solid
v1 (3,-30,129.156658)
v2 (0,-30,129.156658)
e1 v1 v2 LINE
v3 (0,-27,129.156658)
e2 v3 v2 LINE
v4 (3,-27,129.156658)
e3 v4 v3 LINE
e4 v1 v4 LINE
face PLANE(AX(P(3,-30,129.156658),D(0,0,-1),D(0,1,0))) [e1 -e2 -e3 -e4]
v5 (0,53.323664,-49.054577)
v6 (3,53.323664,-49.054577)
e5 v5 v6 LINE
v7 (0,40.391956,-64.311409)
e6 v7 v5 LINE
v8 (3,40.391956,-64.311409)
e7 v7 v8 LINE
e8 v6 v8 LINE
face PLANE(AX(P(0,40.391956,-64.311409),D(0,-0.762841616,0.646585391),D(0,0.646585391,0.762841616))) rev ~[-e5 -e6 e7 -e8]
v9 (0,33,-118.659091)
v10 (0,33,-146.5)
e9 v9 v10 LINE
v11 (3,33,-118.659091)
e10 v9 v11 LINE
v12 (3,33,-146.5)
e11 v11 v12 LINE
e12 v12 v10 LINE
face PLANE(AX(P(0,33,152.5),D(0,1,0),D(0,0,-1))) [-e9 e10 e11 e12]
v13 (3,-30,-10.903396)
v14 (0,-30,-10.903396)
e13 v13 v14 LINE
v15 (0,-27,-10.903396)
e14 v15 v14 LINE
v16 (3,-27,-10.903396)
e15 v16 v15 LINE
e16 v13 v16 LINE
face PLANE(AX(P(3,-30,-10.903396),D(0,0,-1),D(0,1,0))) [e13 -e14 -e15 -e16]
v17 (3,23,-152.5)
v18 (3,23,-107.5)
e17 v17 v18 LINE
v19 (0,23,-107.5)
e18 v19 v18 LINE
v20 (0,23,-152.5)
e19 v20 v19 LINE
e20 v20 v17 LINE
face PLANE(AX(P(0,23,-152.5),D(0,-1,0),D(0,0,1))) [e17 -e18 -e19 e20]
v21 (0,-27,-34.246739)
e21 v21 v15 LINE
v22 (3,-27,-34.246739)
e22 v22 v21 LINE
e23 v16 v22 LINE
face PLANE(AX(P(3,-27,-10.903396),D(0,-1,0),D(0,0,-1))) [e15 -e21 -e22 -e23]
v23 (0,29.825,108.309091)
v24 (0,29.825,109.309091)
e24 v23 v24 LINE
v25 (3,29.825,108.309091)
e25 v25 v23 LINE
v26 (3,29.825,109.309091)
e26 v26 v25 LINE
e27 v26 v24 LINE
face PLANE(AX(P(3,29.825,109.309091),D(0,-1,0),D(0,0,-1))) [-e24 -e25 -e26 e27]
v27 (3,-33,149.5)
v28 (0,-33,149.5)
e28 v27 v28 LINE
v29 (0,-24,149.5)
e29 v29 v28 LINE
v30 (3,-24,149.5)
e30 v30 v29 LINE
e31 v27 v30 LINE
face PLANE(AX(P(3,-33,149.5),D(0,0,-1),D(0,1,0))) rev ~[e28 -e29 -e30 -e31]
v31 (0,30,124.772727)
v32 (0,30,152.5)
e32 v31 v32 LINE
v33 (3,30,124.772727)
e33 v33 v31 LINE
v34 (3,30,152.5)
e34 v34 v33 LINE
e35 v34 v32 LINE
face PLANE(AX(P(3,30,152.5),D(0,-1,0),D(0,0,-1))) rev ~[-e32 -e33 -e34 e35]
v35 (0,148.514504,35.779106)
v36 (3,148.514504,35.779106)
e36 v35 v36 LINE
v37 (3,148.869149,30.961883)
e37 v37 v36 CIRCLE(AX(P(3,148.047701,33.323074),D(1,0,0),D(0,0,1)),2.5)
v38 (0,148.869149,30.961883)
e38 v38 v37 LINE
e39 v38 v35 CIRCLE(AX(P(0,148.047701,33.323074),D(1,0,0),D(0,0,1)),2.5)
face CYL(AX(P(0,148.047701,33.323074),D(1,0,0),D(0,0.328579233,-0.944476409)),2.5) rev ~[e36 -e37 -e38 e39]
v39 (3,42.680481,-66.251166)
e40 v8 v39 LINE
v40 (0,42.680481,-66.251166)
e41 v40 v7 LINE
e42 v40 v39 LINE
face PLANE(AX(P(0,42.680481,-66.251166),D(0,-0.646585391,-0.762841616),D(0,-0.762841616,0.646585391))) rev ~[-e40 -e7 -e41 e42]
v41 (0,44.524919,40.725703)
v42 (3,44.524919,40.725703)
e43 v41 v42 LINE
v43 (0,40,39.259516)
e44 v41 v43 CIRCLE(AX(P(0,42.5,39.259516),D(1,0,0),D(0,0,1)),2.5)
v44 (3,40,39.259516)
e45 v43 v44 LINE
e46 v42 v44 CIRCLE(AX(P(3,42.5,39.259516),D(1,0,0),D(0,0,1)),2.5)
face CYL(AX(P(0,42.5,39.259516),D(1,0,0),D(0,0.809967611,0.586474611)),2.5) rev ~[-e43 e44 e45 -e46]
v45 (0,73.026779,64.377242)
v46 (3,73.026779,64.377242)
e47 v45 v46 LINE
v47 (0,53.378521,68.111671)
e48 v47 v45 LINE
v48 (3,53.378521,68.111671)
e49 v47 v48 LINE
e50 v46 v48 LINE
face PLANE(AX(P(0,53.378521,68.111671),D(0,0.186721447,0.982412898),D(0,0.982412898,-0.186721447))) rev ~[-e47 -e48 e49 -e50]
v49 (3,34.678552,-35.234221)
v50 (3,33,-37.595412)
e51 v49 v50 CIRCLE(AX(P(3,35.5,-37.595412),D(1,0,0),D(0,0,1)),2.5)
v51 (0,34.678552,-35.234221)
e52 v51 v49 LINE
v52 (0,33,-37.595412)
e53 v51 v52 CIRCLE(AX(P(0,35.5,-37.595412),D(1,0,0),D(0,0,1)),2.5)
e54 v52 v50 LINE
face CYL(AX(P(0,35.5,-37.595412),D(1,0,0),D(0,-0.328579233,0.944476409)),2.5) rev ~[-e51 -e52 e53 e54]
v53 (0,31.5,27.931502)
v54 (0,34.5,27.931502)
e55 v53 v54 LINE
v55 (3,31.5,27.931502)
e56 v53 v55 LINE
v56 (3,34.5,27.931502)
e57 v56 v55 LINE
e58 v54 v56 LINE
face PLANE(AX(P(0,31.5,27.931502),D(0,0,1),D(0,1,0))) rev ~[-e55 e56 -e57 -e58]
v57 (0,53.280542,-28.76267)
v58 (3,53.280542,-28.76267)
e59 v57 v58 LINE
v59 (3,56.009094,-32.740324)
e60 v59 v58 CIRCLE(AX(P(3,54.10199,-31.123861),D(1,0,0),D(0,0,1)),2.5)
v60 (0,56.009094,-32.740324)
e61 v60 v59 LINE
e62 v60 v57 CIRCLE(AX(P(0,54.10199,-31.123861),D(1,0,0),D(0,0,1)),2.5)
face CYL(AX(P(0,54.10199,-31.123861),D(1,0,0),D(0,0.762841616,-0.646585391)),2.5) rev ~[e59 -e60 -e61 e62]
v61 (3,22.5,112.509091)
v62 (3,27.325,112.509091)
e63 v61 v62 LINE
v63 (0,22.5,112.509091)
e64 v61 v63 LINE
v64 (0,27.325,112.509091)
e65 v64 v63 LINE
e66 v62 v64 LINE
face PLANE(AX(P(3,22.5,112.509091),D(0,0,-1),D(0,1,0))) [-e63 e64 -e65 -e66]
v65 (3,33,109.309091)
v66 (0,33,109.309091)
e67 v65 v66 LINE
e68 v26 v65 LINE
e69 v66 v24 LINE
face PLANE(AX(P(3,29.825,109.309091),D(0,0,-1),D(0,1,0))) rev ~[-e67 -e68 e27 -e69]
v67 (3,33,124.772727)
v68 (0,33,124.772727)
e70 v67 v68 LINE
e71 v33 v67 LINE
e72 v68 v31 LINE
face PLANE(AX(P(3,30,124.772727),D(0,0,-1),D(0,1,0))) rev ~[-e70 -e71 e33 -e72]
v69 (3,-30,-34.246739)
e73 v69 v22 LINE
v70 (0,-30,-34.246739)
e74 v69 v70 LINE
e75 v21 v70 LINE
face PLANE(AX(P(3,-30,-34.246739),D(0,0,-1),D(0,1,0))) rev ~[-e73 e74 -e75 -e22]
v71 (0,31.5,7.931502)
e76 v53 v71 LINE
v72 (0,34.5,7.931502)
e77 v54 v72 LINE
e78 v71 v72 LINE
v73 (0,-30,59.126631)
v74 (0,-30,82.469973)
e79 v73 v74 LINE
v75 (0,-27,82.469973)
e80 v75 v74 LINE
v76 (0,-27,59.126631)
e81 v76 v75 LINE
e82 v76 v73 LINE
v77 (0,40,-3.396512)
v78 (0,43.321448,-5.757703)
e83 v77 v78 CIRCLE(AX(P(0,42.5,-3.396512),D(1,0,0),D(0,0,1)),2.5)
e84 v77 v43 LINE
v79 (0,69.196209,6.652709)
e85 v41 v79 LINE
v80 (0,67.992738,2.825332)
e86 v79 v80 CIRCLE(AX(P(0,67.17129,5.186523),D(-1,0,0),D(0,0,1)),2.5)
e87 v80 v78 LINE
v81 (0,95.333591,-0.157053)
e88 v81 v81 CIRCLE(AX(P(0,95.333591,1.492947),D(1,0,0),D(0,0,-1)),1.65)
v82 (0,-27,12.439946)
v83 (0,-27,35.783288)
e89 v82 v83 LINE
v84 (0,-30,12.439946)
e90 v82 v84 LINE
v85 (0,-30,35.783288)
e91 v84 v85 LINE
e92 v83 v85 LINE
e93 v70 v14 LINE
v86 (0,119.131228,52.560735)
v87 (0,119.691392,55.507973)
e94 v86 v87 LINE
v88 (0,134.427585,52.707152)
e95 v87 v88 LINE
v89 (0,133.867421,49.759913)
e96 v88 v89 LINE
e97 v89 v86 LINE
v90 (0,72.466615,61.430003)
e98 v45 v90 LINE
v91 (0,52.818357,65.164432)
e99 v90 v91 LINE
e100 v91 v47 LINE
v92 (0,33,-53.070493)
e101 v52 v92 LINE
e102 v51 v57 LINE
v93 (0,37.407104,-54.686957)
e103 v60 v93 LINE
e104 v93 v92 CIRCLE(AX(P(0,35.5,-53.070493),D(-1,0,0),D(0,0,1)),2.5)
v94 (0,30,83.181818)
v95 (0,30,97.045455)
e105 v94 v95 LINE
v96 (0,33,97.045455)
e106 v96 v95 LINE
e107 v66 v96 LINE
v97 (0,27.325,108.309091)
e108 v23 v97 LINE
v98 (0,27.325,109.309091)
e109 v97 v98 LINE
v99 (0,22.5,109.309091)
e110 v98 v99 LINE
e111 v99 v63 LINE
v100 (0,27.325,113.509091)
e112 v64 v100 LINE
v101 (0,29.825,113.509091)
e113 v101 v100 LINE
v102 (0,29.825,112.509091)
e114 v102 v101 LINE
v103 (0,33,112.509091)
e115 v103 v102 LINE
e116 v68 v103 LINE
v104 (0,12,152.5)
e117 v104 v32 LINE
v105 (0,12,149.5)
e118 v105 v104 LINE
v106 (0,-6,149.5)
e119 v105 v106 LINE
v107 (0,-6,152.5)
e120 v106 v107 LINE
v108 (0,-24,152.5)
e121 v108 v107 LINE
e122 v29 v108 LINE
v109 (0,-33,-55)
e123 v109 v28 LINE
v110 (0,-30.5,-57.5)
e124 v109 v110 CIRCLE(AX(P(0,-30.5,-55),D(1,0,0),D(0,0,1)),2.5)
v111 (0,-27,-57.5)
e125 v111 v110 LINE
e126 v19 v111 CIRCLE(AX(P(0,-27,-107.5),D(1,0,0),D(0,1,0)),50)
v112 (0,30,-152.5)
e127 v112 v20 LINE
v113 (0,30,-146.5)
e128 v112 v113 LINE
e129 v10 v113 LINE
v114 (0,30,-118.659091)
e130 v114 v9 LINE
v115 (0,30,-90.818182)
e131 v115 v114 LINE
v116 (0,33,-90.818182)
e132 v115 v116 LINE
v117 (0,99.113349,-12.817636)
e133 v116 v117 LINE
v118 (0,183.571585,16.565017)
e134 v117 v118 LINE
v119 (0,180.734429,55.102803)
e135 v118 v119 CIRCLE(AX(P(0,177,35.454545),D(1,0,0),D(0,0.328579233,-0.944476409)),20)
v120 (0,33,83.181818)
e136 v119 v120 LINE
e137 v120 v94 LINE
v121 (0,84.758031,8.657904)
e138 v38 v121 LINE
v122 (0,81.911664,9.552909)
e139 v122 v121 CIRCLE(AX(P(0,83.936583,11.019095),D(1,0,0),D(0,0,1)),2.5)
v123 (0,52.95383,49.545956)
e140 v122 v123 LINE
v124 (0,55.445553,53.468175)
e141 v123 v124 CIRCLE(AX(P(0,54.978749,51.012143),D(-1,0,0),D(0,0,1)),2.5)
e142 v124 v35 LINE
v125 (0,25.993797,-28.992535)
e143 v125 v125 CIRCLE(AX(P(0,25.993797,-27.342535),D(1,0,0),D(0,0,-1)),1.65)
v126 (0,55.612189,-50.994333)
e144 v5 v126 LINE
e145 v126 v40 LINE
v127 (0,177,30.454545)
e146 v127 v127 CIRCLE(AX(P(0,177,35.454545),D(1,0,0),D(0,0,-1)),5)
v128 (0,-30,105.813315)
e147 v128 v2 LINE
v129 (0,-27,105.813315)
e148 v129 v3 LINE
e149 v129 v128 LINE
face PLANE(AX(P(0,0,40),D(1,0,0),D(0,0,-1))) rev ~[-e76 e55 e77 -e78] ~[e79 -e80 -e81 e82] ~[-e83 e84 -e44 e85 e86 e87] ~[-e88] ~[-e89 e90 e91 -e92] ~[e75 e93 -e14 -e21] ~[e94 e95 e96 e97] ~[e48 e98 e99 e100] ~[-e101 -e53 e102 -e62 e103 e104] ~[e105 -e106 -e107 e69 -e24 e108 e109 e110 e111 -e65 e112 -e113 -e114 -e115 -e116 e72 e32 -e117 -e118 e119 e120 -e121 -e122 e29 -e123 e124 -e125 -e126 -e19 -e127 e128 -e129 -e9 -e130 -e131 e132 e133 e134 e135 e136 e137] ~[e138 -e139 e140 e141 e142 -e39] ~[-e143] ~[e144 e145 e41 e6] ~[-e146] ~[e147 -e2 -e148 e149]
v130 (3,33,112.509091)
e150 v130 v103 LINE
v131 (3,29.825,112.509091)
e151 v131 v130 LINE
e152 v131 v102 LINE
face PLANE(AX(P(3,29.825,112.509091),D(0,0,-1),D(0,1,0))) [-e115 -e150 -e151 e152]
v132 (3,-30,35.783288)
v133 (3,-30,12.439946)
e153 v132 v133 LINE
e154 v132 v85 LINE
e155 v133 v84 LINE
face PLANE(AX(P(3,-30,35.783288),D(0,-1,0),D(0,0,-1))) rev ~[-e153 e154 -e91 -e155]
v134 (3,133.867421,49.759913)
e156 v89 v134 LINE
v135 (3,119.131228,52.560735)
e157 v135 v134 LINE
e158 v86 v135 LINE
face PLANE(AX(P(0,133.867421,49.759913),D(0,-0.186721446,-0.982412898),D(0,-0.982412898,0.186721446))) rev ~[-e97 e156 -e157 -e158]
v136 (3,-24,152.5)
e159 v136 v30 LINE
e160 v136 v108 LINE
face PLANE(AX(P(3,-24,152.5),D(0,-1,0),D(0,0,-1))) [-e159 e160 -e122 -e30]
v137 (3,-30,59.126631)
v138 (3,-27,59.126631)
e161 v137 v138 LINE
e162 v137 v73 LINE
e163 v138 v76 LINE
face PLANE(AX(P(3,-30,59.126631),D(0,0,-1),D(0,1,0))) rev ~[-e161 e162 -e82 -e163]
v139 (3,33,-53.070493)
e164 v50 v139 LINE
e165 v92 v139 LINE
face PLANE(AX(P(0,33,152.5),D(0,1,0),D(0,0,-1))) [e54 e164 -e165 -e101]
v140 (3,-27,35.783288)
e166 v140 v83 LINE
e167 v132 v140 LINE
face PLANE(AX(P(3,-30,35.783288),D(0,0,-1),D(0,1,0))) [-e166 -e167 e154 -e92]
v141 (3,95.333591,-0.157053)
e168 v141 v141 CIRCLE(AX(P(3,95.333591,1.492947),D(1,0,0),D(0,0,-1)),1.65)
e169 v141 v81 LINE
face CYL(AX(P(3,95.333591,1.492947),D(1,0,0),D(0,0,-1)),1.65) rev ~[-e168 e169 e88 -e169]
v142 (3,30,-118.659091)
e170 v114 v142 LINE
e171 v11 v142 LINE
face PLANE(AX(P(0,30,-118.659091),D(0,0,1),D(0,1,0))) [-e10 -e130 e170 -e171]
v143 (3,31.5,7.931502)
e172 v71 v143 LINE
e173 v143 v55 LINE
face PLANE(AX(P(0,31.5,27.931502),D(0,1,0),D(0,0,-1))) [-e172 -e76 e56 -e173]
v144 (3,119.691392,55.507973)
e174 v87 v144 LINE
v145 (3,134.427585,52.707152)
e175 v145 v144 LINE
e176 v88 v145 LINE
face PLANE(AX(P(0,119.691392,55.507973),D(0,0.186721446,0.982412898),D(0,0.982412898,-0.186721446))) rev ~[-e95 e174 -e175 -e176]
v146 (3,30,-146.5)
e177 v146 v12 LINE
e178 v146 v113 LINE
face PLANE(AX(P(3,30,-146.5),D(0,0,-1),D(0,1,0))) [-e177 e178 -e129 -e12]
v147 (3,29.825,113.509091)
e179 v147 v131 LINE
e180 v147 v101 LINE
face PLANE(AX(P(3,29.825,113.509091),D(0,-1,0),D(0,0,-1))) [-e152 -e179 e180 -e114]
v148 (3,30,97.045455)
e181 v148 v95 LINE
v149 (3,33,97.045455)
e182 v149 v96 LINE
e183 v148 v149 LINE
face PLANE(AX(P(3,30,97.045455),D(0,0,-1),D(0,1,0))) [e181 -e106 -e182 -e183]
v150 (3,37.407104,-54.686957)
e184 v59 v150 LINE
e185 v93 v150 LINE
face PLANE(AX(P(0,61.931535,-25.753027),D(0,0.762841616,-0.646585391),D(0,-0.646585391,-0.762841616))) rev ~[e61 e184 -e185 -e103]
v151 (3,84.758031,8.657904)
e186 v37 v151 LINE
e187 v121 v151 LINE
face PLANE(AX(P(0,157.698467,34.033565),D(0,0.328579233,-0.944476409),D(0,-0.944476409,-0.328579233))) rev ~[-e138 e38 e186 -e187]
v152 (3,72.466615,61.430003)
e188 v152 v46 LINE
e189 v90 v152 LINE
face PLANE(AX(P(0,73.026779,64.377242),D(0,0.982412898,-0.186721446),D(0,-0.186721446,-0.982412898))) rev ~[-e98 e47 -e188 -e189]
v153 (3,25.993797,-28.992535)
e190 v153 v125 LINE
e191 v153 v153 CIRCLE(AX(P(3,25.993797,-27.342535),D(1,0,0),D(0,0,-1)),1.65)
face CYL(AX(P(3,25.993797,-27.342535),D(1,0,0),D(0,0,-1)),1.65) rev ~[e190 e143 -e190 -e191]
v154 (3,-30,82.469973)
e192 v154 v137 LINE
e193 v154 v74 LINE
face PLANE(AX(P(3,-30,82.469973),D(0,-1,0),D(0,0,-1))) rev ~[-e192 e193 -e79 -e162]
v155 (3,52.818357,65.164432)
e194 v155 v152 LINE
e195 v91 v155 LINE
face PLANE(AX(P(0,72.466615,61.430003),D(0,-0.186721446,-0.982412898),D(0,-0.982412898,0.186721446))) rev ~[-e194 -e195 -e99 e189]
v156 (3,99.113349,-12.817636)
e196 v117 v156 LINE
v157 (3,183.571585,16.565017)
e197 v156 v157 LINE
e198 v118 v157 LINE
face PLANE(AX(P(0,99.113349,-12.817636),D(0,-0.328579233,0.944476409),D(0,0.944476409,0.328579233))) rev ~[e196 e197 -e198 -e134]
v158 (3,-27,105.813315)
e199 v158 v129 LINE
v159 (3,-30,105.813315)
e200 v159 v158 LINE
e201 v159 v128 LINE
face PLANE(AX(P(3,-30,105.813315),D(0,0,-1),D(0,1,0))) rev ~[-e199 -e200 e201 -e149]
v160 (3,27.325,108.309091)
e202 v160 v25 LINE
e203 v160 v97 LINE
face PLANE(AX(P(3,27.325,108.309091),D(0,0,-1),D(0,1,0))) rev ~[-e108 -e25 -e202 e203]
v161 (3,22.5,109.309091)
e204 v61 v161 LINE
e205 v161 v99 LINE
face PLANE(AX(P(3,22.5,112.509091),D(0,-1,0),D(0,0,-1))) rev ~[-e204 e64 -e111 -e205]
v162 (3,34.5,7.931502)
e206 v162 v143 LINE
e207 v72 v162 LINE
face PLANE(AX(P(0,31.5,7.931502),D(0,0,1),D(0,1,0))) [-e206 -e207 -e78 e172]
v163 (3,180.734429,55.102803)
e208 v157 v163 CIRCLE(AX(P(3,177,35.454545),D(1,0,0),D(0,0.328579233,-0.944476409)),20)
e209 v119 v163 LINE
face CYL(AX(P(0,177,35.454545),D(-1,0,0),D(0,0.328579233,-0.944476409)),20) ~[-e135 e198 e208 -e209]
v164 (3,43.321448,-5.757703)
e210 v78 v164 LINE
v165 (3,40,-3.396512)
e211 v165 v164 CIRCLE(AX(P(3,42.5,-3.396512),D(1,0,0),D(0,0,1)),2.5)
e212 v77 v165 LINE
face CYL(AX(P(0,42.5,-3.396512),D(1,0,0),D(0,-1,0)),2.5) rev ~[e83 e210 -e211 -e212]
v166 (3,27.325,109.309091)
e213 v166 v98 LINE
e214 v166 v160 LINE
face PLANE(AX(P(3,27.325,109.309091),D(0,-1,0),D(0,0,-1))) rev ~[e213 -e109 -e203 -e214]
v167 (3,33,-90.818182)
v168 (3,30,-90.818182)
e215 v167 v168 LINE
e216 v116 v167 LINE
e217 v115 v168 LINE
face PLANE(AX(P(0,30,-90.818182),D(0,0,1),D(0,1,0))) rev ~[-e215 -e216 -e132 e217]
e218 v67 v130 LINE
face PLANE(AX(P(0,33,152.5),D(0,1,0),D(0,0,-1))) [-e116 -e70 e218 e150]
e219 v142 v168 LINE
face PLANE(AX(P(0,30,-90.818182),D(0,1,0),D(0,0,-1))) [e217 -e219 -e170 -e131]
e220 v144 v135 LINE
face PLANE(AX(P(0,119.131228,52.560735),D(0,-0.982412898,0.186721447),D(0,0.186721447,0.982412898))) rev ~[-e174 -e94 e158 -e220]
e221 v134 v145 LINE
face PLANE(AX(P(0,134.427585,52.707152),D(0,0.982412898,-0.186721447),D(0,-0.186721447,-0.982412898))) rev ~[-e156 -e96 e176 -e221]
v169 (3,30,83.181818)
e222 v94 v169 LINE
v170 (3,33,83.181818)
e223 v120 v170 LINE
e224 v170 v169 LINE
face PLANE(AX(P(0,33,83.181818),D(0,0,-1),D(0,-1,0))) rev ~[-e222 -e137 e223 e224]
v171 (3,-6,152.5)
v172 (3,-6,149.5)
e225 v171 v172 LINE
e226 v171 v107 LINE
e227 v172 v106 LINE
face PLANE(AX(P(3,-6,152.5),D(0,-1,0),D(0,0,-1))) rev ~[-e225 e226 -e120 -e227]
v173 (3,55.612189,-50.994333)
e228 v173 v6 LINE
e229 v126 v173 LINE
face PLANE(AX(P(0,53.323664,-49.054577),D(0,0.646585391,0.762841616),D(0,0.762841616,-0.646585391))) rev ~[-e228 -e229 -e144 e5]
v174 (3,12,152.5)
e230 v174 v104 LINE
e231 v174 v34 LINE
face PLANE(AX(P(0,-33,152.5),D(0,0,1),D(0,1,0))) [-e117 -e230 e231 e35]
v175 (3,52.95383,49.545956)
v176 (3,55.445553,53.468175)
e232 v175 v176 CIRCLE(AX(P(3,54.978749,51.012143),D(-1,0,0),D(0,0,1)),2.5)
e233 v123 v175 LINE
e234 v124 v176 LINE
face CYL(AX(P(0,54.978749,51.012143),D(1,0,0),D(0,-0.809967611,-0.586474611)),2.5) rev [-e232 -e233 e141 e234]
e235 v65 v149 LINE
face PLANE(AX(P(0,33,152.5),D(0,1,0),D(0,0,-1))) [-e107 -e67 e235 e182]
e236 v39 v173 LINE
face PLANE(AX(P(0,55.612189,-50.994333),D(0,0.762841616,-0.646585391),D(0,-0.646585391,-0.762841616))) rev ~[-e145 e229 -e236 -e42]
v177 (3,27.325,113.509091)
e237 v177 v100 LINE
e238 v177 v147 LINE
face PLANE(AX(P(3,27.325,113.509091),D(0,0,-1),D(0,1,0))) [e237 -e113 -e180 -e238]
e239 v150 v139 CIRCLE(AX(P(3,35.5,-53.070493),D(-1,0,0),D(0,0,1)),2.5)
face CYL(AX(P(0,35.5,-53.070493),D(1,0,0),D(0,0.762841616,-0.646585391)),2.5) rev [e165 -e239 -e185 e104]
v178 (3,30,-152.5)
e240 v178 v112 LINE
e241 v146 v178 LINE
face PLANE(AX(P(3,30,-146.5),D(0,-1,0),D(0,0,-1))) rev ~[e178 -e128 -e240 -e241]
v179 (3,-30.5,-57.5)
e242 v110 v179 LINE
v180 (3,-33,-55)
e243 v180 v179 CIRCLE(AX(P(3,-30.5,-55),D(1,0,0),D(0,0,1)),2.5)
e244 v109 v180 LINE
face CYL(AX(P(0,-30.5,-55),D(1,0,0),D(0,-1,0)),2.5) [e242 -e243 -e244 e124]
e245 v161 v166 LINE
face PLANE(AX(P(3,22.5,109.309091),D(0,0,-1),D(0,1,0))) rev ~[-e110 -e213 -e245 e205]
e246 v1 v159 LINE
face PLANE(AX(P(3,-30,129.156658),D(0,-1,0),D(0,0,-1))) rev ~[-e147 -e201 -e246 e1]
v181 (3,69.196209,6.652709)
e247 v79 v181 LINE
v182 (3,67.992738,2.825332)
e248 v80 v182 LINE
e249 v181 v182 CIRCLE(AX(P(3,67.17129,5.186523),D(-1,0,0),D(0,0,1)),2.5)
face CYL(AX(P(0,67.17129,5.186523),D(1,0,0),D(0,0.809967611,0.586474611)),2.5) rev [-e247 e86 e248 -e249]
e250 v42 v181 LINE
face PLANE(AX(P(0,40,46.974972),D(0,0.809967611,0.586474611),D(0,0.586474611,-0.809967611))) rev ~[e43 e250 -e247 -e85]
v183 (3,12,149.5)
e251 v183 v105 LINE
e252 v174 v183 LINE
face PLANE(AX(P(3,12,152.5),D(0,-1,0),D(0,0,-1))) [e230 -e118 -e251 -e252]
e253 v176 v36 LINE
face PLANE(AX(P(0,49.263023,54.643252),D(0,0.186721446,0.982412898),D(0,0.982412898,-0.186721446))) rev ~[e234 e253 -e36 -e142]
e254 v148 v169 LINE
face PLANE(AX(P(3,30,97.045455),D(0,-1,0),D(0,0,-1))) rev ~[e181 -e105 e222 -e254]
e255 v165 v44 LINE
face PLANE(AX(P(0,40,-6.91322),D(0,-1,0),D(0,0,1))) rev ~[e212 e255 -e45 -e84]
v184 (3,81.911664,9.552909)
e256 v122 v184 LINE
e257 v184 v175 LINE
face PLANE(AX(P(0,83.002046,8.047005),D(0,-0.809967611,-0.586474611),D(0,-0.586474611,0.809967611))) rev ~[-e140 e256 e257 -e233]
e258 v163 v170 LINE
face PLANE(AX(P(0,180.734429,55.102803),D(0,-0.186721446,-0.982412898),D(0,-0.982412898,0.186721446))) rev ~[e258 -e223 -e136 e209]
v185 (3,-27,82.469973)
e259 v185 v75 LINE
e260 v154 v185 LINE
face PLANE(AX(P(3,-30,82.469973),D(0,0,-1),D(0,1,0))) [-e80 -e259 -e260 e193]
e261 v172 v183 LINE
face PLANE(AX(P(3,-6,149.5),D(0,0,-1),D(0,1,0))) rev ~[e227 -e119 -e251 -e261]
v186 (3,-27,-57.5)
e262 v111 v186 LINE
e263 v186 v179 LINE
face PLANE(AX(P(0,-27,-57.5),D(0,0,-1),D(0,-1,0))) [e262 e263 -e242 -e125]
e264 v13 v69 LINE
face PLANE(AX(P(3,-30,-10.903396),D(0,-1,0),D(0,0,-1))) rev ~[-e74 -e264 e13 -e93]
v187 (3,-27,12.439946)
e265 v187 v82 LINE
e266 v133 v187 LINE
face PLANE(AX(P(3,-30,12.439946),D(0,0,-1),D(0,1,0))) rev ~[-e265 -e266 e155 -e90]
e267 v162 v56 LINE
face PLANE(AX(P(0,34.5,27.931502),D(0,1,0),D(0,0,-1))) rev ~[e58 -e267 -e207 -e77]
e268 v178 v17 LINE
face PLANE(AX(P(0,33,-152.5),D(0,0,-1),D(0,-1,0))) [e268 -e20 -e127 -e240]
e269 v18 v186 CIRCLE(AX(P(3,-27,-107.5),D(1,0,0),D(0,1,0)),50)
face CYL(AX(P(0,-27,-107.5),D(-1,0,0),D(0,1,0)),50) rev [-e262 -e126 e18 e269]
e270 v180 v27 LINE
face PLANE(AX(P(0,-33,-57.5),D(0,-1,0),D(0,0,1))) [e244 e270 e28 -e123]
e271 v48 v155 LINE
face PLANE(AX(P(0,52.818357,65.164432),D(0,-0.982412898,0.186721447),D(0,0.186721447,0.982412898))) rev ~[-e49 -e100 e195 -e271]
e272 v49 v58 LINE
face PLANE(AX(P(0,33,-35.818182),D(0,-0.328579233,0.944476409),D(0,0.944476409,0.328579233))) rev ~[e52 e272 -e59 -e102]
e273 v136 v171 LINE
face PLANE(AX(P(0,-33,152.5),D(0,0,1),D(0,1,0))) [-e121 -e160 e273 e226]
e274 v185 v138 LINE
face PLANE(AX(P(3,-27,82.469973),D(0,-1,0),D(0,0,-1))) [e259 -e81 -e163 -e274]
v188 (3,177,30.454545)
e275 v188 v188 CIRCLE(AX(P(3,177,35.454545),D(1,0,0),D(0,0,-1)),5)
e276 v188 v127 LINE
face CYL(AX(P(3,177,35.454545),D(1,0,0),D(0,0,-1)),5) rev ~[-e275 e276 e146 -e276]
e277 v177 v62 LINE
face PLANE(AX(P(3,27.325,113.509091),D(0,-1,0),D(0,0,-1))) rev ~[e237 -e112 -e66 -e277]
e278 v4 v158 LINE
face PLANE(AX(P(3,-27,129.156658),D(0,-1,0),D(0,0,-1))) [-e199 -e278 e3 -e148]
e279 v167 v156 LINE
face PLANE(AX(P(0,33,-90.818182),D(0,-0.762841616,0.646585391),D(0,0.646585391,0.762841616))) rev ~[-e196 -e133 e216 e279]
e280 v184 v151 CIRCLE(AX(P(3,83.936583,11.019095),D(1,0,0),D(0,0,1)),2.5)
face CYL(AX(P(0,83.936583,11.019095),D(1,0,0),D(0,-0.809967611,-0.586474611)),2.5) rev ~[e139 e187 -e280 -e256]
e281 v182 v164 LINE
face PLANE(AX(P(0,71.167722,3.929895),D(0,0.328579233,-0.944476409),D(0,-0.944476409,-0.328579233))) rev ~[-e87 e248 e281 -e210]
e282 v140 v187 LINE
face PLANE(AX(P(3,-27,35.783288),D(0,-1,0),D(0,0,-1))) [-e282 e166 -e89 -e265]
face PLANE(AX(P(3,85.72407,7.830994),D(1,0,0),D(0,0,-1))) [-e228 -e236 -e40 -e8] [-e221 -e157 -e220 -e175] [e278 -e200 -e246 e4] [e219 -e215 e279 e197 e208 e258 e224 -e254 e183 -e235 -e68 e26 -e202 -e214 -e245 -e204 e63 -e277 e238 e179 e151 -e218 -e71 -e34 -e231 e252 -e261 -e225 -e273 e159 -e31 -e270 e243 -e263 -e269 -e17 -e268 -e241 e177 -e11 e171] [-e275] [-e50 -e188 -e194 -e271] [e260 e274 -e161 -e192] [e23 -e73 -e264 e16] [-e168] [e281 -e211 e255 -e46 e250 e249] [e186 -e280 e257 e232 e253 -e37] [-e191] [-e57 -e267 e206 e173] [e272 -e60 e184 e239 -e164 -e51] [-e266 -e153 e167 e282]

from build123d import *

# Parameters (mm, degrees)
BOSS_EXTRUDE1_DEPTH     = 3
SKETCH2_W               = 27.727272727
SKETCH2_H               = 3
SKETCH2_W_2             = 3
SKETCH2_H_2             = 18
SKETCH2_H_3             = 9
SKETCH2_W_3             = 23.343342349
SKETCH2_W_4             = 23.34334235
SKETCH2_W_5             = 6
CUT_EXTRUDE1_DEPTH      = 1
CUT_EXTRUDE1_DEPTH_BACK = 4
SKETCH3_W               = 3.2
SKETCH3_H               = 10.5
SKETCH3_W_2             = 5.2
SKETCH3_H_2             = 2.5
CUT_EXTRUDE2_DEPTH      = 1
CUT_EXTRUDE2_DEPTH_BACK = 4
FILLET1_R               = 2.5
BOSS_EXTRUDE2_DEPTH     = 3
FILLET2_R               = 2.5
SKETCH6_R               = 5
SKETCH6_R_2             = 1.65
CUT_EXTRUDE5_DEPTH      = 1
CUT_EXTRUDE5_DEPTH_BACK = 4
SKETCH8_R               = 10
SKETCH8_W               = 5
SKETCH8_H               = 1
CUT_EXTRUDE6_DEPTH      = 4
CUT_EXTRUDE6_DEPTH_BACK = 1
SKETCH8_4_R             = 10
SKETCH8_4_W             = 5
SKETCH8_4_H             = 1
BOSS_EXTRUDE4_DEPTH     = 3
SKETCH9_W               = 20
SKETCH9_H               = 3
CUT_EXTRUDE7_DEPTH      = 4
CUT_EXTRUDE7_DEPTH_BACK = 1
SKETCH10_W              = 27.840909091
SKETCH10_H              = 3
CUT_EXTRUDE8_DEPTH      = 4
CUT_EXTRUDE8_DEPTH_BACK = 1


with BuildPart() as part:
    # Sketch1 → Boss-Extrude1 (new body)
    with BuildSketch(Plane(origin=(0, 0, 0), x_dir=(0, 0, -1), z_dir=(1, 0, 0))):
        with BuildLine():
            Line((-152.5, 33), (152.5, 33))
            Line((152.5, 33), (152.5, 23))
            Line((152.5, 23), (107.5, 23))
            ThreePointArc((107.5, 23), (72.144660941, 8.355339059), (57.5, -27))
            Line((57.5, -27), (57.5, -33))
            Line((57.5, -33), (-152.5, -33))
            Line((-152.5, -33), (-152.5, 33))
        make_face()
    extrude(amount=BOSS_EXTRUDE1_DEPTH)

    # Sketch2 → Cut-Extrude1 (cut, two sides)
    with BuildSketch(Plane(origin=(3, 0, 0), x_dir=(0, 0, -1), z_dir=(1, 0, 0))) as cut_extrude1_sk:
        with Locations((-138.636363636, 31.5)):
            Rectangle(SKETCH2_W, SKETCH2_H)
        with Locations((-83.181818182, 31.5)):
            Rectangle(SKETCH2_W, SKETCH2_H)
        with Locations((-27.727272728, 31.5)):
            Rectangle(SKETCH2_W, SKETCH2_H)
        with Locations((-151, 3)):
            Rectangle(SKETCH2_W_2, SKETCH2_H_2)
        with Locations((-151, -28.5)):
            Rectangle(SKETCH2_W_2, SKETCH2_H_3)
        with Locations((-117.484986475, -28.5)):
            Rectangle(SKETCH2_W_3, SKETCH2_H)
        with Locations((-70.798301777, -28.5)):
            Rectangle(SKETCH2_W_3, SKETCH2_H)
        with Locations((22.575067622, -28.5)):
            Rectangle(SKETCH2_W_4, SKETCH2_H)
        with Locations((149.5, 31.5)):
            Rectangle(SKETCH2_W_5, SKETCH2_H)
        with Locations((-24.111617078, -28.5)):
            Rectangle(SKETCH2_W_3, SKETCH2_H)
    extrude(amount=CUT_EXTRUDE1_DEPTH, mode=Mode.SUBTRACT)
    extrude(cut_extrude1_sk.sketch, amount=-CUT_EXTRUDE1_DEPTH_BACK, mode=Mode.SUBTRACT)

    # Sketch3 → Cut-Extrude2 (cut, two sides)
    with BuildSketch(Plane(origin=(3, 0, 0), x_dir=(0, 0, -1), z_dir=(1, 0, 0))) as cut_extrude2_sk:
        with Locations((-110.909090909, 27.75)):
            Rectangle(SKETCH3_W, SKETCH3_H)
        with Locations((-110.909090909, 28.575)):
            Rectangle(SKETCH3_W_2, SKETCH3_H_2)
    extrude(amount=CUT_EXTRUDE2_DEPTH, mode=Mode.SUBTRACT)
    extrude(cut_extrude2_sk.sketch, amount=-CUT_EXTRUDE2_DEPTH_BACK, mode=Mode.SUBTRACT)

    # Fillet1
    fillet1_edges = [part.edges().sort_by_distance(p)[0] for p in [
        (1.5, -33, -57.5),
    ]]
    fillet(fillet1_edges, radius=FILLET1_R)

    # Sketch4 → Boss-Extrude2 (add)
    with BuildSketch(Plane(origin=(0, 0, 0), x_dir=(0, 0, -1), z_dir=(1, 0, 0))):
        with BuildLine():
            Line((-83.181818182, 33), (-83.181818182, 30))
            Line((-83.181818182, 30), (35.818181818, 30))
            Line((35.818181818, 30), (35.818181818, 33))
            Line((35.818181818, 33), (25.753026775, 61.931534749))
            Line((25.753026775, 61.931534749), (59.886459158, 33))
            Line((59.886459158, 33), (90.818181818, 33))
            Line((90.818181818, 33), (12.817635516, 99.113348651))
            Line((12.817635516, 99.113348651), (-16.565017269, 183.571584658))
            ThreePointArc((-16.565017269, 183.571584658), (-36.922973482, 196.946020133), (-55.102803407, 180.73442893))
            Line((-55.102803407, 180.73442893), (-83.181818182, 33))
        make_face()
        Polygon((-54.643252411, 49.263022537), (-34.033564648, 157.698467174), (-8.047004759, 83.002045982), align=None, mode=Mode.SUBTRACT)
        Polygon((-3.929894771, 71.167721507), (6.913219914, 40), (-46.974972009, 40), align=None, mode=Mode.SUBTRACT)
    extrude(amount=BOSS_EXTRUDE2_DEPTH)

    # Fillet2
    fillet2_edges = [part.edges().sort_by_distance(p)[0] for p in [
        (1.5, 33, -59.886459158),
        (1.5, 61.931534749, -25.753026775),
        (1.5, 33, -35.818181818),
        (1.5, 40, -6.913219914),
        (1.5, 71.167721507, 3.929894771),
        (1.5, 40, 46.974972009),
        (1.5, 49.263022537, 54.643252411),
        (1.5, 83.002045982, 8.047004759),
        (1.5, 157.698467174, 34.033564648),
    ]]
    fillet(fillet2_edges, radius=FILLET2_R)

    # Sketch6 → Cut-Extrude5 (cut, two sides)
    with BuildSketch(Plane(origin=(3, 0, 0), x_dir=(0, 0, -1), z_dir=(1, 0, 0))) as cut_extrude5_sk:
        with Locations((-35.454545455, 177)):
            Circle(SKETCH6_R)
        with Locations((-1.492946709, 95.333591431)):
            Circle(SKETCH6_R_2)
        with Locations((27.342535354, 25.993797473)):
            Circle(SKETCH6_R_2)
    extrude(amount=CUT_EXTRUDE5_DEPTH, mode=Mode.SUBTRACT)
    extrude(cut_extrude5_sk.sketch, amount=-CUT_EXTRUDE5_DEPTH_BACK, mode=Mode.SUBTRACT)

    # Sketch8 → Cut-Extrude6 (cut, two sides)
    with BuildSketch(Plane(origin=(0, 0, 0), x_dir=(0, 0, -1), z_dir=(1, 0, 0))) as cut_extrude6_sk:
        with Locations((-40, 0)):
            Circle(SKETCH8_R)
        with Locations((-5, 0)):
            Rectangle(SKETCH8_W, SKETCH8_H)
    extrude(amount=CUT_EXTRUDE6_DEPTH, mode=Mode.SUBTRACT)
    extrude(cut_extrude6_sk.sketch, amount=-CUT_EXTRUDE6_DEPTH_BACK, mode=Mode.SUBTRACT)

    # Sketch8_4 → Boss-Extrude4 (add)
    with BuildSketch(Plane(origin=(0, 0, 0), x_dir=(0, 0, -1), z_dir=(1, 0, 0))):
        with Locations((-40, 0)):
            Circle(SKETCH8_4_R)
        with Locations((-5, 0)):
            Rectangle(SKETCH8_4_W, SKETCH8_4_H)
    extrude(amount=BOSS_EXTRUDE4_DEPTH)

    # Sketch9 → Cut-Extrude7 (cut, two sides)
    with BuildSketch(Plane(origin=(0, 0, 0), x_dir=(0, 0, -1), z_dir=(1, 0, 0))) as cut_extrude7_sk:
        Polygon((-68.111670983, 53.378521315), (-64.377242053, 73.026779267), (-61.43000336, 72.466614928), (-65.16443229, 52.818356975), align=None)
        Polygon((-55.507973344, 119.691391905), (-52.707151647, 134.427585369), (-49.759912954, 133.867421029), (-52.560734651, 119.131227565), align=None)
        Polygon((64.311409407, 40.391956194), (49.054577079, 53.32366402), (50.994333253, 55.612188869), (66.251165581, 42.680481043), align=None)
        with Locations((-17.931502251, 33)):
            Rectangle(SKETCH9_W, SKETCH9_H)
    extrude(amount=CUT_EXTRUDE7_DEPTH, mode=Mode.SUBTRACT)
    extrude(cut_extrude7_sk.sketch, amount=-CUT_EXTRUDE7_DEPTH_BACK, mode=Mode.SUBTRACT)

    # Sketch10 → Cut-Extrude8 (cut, two sides)
    with BuildSketch(Plane(origin=(0, 0, 0), x_dir=(0, 0, -1), z_dir=(1, 0, 0))) as cut_extrude8_sk:
        with Locations((104.738636364, 31.5)):
            Rectangle(SKETCH10_W, SKETCH10_H)
    extrude(amount=CUT_EXTRUDE8_DEPTH, mode=Mode.SUBTRACT)
    extrude(cut_extrude8_sk.sketch, amount=-CUT_EXTRUDE8_DEPTH_BACK, mode=Mode.SUBTRACT)


solid = part.part
